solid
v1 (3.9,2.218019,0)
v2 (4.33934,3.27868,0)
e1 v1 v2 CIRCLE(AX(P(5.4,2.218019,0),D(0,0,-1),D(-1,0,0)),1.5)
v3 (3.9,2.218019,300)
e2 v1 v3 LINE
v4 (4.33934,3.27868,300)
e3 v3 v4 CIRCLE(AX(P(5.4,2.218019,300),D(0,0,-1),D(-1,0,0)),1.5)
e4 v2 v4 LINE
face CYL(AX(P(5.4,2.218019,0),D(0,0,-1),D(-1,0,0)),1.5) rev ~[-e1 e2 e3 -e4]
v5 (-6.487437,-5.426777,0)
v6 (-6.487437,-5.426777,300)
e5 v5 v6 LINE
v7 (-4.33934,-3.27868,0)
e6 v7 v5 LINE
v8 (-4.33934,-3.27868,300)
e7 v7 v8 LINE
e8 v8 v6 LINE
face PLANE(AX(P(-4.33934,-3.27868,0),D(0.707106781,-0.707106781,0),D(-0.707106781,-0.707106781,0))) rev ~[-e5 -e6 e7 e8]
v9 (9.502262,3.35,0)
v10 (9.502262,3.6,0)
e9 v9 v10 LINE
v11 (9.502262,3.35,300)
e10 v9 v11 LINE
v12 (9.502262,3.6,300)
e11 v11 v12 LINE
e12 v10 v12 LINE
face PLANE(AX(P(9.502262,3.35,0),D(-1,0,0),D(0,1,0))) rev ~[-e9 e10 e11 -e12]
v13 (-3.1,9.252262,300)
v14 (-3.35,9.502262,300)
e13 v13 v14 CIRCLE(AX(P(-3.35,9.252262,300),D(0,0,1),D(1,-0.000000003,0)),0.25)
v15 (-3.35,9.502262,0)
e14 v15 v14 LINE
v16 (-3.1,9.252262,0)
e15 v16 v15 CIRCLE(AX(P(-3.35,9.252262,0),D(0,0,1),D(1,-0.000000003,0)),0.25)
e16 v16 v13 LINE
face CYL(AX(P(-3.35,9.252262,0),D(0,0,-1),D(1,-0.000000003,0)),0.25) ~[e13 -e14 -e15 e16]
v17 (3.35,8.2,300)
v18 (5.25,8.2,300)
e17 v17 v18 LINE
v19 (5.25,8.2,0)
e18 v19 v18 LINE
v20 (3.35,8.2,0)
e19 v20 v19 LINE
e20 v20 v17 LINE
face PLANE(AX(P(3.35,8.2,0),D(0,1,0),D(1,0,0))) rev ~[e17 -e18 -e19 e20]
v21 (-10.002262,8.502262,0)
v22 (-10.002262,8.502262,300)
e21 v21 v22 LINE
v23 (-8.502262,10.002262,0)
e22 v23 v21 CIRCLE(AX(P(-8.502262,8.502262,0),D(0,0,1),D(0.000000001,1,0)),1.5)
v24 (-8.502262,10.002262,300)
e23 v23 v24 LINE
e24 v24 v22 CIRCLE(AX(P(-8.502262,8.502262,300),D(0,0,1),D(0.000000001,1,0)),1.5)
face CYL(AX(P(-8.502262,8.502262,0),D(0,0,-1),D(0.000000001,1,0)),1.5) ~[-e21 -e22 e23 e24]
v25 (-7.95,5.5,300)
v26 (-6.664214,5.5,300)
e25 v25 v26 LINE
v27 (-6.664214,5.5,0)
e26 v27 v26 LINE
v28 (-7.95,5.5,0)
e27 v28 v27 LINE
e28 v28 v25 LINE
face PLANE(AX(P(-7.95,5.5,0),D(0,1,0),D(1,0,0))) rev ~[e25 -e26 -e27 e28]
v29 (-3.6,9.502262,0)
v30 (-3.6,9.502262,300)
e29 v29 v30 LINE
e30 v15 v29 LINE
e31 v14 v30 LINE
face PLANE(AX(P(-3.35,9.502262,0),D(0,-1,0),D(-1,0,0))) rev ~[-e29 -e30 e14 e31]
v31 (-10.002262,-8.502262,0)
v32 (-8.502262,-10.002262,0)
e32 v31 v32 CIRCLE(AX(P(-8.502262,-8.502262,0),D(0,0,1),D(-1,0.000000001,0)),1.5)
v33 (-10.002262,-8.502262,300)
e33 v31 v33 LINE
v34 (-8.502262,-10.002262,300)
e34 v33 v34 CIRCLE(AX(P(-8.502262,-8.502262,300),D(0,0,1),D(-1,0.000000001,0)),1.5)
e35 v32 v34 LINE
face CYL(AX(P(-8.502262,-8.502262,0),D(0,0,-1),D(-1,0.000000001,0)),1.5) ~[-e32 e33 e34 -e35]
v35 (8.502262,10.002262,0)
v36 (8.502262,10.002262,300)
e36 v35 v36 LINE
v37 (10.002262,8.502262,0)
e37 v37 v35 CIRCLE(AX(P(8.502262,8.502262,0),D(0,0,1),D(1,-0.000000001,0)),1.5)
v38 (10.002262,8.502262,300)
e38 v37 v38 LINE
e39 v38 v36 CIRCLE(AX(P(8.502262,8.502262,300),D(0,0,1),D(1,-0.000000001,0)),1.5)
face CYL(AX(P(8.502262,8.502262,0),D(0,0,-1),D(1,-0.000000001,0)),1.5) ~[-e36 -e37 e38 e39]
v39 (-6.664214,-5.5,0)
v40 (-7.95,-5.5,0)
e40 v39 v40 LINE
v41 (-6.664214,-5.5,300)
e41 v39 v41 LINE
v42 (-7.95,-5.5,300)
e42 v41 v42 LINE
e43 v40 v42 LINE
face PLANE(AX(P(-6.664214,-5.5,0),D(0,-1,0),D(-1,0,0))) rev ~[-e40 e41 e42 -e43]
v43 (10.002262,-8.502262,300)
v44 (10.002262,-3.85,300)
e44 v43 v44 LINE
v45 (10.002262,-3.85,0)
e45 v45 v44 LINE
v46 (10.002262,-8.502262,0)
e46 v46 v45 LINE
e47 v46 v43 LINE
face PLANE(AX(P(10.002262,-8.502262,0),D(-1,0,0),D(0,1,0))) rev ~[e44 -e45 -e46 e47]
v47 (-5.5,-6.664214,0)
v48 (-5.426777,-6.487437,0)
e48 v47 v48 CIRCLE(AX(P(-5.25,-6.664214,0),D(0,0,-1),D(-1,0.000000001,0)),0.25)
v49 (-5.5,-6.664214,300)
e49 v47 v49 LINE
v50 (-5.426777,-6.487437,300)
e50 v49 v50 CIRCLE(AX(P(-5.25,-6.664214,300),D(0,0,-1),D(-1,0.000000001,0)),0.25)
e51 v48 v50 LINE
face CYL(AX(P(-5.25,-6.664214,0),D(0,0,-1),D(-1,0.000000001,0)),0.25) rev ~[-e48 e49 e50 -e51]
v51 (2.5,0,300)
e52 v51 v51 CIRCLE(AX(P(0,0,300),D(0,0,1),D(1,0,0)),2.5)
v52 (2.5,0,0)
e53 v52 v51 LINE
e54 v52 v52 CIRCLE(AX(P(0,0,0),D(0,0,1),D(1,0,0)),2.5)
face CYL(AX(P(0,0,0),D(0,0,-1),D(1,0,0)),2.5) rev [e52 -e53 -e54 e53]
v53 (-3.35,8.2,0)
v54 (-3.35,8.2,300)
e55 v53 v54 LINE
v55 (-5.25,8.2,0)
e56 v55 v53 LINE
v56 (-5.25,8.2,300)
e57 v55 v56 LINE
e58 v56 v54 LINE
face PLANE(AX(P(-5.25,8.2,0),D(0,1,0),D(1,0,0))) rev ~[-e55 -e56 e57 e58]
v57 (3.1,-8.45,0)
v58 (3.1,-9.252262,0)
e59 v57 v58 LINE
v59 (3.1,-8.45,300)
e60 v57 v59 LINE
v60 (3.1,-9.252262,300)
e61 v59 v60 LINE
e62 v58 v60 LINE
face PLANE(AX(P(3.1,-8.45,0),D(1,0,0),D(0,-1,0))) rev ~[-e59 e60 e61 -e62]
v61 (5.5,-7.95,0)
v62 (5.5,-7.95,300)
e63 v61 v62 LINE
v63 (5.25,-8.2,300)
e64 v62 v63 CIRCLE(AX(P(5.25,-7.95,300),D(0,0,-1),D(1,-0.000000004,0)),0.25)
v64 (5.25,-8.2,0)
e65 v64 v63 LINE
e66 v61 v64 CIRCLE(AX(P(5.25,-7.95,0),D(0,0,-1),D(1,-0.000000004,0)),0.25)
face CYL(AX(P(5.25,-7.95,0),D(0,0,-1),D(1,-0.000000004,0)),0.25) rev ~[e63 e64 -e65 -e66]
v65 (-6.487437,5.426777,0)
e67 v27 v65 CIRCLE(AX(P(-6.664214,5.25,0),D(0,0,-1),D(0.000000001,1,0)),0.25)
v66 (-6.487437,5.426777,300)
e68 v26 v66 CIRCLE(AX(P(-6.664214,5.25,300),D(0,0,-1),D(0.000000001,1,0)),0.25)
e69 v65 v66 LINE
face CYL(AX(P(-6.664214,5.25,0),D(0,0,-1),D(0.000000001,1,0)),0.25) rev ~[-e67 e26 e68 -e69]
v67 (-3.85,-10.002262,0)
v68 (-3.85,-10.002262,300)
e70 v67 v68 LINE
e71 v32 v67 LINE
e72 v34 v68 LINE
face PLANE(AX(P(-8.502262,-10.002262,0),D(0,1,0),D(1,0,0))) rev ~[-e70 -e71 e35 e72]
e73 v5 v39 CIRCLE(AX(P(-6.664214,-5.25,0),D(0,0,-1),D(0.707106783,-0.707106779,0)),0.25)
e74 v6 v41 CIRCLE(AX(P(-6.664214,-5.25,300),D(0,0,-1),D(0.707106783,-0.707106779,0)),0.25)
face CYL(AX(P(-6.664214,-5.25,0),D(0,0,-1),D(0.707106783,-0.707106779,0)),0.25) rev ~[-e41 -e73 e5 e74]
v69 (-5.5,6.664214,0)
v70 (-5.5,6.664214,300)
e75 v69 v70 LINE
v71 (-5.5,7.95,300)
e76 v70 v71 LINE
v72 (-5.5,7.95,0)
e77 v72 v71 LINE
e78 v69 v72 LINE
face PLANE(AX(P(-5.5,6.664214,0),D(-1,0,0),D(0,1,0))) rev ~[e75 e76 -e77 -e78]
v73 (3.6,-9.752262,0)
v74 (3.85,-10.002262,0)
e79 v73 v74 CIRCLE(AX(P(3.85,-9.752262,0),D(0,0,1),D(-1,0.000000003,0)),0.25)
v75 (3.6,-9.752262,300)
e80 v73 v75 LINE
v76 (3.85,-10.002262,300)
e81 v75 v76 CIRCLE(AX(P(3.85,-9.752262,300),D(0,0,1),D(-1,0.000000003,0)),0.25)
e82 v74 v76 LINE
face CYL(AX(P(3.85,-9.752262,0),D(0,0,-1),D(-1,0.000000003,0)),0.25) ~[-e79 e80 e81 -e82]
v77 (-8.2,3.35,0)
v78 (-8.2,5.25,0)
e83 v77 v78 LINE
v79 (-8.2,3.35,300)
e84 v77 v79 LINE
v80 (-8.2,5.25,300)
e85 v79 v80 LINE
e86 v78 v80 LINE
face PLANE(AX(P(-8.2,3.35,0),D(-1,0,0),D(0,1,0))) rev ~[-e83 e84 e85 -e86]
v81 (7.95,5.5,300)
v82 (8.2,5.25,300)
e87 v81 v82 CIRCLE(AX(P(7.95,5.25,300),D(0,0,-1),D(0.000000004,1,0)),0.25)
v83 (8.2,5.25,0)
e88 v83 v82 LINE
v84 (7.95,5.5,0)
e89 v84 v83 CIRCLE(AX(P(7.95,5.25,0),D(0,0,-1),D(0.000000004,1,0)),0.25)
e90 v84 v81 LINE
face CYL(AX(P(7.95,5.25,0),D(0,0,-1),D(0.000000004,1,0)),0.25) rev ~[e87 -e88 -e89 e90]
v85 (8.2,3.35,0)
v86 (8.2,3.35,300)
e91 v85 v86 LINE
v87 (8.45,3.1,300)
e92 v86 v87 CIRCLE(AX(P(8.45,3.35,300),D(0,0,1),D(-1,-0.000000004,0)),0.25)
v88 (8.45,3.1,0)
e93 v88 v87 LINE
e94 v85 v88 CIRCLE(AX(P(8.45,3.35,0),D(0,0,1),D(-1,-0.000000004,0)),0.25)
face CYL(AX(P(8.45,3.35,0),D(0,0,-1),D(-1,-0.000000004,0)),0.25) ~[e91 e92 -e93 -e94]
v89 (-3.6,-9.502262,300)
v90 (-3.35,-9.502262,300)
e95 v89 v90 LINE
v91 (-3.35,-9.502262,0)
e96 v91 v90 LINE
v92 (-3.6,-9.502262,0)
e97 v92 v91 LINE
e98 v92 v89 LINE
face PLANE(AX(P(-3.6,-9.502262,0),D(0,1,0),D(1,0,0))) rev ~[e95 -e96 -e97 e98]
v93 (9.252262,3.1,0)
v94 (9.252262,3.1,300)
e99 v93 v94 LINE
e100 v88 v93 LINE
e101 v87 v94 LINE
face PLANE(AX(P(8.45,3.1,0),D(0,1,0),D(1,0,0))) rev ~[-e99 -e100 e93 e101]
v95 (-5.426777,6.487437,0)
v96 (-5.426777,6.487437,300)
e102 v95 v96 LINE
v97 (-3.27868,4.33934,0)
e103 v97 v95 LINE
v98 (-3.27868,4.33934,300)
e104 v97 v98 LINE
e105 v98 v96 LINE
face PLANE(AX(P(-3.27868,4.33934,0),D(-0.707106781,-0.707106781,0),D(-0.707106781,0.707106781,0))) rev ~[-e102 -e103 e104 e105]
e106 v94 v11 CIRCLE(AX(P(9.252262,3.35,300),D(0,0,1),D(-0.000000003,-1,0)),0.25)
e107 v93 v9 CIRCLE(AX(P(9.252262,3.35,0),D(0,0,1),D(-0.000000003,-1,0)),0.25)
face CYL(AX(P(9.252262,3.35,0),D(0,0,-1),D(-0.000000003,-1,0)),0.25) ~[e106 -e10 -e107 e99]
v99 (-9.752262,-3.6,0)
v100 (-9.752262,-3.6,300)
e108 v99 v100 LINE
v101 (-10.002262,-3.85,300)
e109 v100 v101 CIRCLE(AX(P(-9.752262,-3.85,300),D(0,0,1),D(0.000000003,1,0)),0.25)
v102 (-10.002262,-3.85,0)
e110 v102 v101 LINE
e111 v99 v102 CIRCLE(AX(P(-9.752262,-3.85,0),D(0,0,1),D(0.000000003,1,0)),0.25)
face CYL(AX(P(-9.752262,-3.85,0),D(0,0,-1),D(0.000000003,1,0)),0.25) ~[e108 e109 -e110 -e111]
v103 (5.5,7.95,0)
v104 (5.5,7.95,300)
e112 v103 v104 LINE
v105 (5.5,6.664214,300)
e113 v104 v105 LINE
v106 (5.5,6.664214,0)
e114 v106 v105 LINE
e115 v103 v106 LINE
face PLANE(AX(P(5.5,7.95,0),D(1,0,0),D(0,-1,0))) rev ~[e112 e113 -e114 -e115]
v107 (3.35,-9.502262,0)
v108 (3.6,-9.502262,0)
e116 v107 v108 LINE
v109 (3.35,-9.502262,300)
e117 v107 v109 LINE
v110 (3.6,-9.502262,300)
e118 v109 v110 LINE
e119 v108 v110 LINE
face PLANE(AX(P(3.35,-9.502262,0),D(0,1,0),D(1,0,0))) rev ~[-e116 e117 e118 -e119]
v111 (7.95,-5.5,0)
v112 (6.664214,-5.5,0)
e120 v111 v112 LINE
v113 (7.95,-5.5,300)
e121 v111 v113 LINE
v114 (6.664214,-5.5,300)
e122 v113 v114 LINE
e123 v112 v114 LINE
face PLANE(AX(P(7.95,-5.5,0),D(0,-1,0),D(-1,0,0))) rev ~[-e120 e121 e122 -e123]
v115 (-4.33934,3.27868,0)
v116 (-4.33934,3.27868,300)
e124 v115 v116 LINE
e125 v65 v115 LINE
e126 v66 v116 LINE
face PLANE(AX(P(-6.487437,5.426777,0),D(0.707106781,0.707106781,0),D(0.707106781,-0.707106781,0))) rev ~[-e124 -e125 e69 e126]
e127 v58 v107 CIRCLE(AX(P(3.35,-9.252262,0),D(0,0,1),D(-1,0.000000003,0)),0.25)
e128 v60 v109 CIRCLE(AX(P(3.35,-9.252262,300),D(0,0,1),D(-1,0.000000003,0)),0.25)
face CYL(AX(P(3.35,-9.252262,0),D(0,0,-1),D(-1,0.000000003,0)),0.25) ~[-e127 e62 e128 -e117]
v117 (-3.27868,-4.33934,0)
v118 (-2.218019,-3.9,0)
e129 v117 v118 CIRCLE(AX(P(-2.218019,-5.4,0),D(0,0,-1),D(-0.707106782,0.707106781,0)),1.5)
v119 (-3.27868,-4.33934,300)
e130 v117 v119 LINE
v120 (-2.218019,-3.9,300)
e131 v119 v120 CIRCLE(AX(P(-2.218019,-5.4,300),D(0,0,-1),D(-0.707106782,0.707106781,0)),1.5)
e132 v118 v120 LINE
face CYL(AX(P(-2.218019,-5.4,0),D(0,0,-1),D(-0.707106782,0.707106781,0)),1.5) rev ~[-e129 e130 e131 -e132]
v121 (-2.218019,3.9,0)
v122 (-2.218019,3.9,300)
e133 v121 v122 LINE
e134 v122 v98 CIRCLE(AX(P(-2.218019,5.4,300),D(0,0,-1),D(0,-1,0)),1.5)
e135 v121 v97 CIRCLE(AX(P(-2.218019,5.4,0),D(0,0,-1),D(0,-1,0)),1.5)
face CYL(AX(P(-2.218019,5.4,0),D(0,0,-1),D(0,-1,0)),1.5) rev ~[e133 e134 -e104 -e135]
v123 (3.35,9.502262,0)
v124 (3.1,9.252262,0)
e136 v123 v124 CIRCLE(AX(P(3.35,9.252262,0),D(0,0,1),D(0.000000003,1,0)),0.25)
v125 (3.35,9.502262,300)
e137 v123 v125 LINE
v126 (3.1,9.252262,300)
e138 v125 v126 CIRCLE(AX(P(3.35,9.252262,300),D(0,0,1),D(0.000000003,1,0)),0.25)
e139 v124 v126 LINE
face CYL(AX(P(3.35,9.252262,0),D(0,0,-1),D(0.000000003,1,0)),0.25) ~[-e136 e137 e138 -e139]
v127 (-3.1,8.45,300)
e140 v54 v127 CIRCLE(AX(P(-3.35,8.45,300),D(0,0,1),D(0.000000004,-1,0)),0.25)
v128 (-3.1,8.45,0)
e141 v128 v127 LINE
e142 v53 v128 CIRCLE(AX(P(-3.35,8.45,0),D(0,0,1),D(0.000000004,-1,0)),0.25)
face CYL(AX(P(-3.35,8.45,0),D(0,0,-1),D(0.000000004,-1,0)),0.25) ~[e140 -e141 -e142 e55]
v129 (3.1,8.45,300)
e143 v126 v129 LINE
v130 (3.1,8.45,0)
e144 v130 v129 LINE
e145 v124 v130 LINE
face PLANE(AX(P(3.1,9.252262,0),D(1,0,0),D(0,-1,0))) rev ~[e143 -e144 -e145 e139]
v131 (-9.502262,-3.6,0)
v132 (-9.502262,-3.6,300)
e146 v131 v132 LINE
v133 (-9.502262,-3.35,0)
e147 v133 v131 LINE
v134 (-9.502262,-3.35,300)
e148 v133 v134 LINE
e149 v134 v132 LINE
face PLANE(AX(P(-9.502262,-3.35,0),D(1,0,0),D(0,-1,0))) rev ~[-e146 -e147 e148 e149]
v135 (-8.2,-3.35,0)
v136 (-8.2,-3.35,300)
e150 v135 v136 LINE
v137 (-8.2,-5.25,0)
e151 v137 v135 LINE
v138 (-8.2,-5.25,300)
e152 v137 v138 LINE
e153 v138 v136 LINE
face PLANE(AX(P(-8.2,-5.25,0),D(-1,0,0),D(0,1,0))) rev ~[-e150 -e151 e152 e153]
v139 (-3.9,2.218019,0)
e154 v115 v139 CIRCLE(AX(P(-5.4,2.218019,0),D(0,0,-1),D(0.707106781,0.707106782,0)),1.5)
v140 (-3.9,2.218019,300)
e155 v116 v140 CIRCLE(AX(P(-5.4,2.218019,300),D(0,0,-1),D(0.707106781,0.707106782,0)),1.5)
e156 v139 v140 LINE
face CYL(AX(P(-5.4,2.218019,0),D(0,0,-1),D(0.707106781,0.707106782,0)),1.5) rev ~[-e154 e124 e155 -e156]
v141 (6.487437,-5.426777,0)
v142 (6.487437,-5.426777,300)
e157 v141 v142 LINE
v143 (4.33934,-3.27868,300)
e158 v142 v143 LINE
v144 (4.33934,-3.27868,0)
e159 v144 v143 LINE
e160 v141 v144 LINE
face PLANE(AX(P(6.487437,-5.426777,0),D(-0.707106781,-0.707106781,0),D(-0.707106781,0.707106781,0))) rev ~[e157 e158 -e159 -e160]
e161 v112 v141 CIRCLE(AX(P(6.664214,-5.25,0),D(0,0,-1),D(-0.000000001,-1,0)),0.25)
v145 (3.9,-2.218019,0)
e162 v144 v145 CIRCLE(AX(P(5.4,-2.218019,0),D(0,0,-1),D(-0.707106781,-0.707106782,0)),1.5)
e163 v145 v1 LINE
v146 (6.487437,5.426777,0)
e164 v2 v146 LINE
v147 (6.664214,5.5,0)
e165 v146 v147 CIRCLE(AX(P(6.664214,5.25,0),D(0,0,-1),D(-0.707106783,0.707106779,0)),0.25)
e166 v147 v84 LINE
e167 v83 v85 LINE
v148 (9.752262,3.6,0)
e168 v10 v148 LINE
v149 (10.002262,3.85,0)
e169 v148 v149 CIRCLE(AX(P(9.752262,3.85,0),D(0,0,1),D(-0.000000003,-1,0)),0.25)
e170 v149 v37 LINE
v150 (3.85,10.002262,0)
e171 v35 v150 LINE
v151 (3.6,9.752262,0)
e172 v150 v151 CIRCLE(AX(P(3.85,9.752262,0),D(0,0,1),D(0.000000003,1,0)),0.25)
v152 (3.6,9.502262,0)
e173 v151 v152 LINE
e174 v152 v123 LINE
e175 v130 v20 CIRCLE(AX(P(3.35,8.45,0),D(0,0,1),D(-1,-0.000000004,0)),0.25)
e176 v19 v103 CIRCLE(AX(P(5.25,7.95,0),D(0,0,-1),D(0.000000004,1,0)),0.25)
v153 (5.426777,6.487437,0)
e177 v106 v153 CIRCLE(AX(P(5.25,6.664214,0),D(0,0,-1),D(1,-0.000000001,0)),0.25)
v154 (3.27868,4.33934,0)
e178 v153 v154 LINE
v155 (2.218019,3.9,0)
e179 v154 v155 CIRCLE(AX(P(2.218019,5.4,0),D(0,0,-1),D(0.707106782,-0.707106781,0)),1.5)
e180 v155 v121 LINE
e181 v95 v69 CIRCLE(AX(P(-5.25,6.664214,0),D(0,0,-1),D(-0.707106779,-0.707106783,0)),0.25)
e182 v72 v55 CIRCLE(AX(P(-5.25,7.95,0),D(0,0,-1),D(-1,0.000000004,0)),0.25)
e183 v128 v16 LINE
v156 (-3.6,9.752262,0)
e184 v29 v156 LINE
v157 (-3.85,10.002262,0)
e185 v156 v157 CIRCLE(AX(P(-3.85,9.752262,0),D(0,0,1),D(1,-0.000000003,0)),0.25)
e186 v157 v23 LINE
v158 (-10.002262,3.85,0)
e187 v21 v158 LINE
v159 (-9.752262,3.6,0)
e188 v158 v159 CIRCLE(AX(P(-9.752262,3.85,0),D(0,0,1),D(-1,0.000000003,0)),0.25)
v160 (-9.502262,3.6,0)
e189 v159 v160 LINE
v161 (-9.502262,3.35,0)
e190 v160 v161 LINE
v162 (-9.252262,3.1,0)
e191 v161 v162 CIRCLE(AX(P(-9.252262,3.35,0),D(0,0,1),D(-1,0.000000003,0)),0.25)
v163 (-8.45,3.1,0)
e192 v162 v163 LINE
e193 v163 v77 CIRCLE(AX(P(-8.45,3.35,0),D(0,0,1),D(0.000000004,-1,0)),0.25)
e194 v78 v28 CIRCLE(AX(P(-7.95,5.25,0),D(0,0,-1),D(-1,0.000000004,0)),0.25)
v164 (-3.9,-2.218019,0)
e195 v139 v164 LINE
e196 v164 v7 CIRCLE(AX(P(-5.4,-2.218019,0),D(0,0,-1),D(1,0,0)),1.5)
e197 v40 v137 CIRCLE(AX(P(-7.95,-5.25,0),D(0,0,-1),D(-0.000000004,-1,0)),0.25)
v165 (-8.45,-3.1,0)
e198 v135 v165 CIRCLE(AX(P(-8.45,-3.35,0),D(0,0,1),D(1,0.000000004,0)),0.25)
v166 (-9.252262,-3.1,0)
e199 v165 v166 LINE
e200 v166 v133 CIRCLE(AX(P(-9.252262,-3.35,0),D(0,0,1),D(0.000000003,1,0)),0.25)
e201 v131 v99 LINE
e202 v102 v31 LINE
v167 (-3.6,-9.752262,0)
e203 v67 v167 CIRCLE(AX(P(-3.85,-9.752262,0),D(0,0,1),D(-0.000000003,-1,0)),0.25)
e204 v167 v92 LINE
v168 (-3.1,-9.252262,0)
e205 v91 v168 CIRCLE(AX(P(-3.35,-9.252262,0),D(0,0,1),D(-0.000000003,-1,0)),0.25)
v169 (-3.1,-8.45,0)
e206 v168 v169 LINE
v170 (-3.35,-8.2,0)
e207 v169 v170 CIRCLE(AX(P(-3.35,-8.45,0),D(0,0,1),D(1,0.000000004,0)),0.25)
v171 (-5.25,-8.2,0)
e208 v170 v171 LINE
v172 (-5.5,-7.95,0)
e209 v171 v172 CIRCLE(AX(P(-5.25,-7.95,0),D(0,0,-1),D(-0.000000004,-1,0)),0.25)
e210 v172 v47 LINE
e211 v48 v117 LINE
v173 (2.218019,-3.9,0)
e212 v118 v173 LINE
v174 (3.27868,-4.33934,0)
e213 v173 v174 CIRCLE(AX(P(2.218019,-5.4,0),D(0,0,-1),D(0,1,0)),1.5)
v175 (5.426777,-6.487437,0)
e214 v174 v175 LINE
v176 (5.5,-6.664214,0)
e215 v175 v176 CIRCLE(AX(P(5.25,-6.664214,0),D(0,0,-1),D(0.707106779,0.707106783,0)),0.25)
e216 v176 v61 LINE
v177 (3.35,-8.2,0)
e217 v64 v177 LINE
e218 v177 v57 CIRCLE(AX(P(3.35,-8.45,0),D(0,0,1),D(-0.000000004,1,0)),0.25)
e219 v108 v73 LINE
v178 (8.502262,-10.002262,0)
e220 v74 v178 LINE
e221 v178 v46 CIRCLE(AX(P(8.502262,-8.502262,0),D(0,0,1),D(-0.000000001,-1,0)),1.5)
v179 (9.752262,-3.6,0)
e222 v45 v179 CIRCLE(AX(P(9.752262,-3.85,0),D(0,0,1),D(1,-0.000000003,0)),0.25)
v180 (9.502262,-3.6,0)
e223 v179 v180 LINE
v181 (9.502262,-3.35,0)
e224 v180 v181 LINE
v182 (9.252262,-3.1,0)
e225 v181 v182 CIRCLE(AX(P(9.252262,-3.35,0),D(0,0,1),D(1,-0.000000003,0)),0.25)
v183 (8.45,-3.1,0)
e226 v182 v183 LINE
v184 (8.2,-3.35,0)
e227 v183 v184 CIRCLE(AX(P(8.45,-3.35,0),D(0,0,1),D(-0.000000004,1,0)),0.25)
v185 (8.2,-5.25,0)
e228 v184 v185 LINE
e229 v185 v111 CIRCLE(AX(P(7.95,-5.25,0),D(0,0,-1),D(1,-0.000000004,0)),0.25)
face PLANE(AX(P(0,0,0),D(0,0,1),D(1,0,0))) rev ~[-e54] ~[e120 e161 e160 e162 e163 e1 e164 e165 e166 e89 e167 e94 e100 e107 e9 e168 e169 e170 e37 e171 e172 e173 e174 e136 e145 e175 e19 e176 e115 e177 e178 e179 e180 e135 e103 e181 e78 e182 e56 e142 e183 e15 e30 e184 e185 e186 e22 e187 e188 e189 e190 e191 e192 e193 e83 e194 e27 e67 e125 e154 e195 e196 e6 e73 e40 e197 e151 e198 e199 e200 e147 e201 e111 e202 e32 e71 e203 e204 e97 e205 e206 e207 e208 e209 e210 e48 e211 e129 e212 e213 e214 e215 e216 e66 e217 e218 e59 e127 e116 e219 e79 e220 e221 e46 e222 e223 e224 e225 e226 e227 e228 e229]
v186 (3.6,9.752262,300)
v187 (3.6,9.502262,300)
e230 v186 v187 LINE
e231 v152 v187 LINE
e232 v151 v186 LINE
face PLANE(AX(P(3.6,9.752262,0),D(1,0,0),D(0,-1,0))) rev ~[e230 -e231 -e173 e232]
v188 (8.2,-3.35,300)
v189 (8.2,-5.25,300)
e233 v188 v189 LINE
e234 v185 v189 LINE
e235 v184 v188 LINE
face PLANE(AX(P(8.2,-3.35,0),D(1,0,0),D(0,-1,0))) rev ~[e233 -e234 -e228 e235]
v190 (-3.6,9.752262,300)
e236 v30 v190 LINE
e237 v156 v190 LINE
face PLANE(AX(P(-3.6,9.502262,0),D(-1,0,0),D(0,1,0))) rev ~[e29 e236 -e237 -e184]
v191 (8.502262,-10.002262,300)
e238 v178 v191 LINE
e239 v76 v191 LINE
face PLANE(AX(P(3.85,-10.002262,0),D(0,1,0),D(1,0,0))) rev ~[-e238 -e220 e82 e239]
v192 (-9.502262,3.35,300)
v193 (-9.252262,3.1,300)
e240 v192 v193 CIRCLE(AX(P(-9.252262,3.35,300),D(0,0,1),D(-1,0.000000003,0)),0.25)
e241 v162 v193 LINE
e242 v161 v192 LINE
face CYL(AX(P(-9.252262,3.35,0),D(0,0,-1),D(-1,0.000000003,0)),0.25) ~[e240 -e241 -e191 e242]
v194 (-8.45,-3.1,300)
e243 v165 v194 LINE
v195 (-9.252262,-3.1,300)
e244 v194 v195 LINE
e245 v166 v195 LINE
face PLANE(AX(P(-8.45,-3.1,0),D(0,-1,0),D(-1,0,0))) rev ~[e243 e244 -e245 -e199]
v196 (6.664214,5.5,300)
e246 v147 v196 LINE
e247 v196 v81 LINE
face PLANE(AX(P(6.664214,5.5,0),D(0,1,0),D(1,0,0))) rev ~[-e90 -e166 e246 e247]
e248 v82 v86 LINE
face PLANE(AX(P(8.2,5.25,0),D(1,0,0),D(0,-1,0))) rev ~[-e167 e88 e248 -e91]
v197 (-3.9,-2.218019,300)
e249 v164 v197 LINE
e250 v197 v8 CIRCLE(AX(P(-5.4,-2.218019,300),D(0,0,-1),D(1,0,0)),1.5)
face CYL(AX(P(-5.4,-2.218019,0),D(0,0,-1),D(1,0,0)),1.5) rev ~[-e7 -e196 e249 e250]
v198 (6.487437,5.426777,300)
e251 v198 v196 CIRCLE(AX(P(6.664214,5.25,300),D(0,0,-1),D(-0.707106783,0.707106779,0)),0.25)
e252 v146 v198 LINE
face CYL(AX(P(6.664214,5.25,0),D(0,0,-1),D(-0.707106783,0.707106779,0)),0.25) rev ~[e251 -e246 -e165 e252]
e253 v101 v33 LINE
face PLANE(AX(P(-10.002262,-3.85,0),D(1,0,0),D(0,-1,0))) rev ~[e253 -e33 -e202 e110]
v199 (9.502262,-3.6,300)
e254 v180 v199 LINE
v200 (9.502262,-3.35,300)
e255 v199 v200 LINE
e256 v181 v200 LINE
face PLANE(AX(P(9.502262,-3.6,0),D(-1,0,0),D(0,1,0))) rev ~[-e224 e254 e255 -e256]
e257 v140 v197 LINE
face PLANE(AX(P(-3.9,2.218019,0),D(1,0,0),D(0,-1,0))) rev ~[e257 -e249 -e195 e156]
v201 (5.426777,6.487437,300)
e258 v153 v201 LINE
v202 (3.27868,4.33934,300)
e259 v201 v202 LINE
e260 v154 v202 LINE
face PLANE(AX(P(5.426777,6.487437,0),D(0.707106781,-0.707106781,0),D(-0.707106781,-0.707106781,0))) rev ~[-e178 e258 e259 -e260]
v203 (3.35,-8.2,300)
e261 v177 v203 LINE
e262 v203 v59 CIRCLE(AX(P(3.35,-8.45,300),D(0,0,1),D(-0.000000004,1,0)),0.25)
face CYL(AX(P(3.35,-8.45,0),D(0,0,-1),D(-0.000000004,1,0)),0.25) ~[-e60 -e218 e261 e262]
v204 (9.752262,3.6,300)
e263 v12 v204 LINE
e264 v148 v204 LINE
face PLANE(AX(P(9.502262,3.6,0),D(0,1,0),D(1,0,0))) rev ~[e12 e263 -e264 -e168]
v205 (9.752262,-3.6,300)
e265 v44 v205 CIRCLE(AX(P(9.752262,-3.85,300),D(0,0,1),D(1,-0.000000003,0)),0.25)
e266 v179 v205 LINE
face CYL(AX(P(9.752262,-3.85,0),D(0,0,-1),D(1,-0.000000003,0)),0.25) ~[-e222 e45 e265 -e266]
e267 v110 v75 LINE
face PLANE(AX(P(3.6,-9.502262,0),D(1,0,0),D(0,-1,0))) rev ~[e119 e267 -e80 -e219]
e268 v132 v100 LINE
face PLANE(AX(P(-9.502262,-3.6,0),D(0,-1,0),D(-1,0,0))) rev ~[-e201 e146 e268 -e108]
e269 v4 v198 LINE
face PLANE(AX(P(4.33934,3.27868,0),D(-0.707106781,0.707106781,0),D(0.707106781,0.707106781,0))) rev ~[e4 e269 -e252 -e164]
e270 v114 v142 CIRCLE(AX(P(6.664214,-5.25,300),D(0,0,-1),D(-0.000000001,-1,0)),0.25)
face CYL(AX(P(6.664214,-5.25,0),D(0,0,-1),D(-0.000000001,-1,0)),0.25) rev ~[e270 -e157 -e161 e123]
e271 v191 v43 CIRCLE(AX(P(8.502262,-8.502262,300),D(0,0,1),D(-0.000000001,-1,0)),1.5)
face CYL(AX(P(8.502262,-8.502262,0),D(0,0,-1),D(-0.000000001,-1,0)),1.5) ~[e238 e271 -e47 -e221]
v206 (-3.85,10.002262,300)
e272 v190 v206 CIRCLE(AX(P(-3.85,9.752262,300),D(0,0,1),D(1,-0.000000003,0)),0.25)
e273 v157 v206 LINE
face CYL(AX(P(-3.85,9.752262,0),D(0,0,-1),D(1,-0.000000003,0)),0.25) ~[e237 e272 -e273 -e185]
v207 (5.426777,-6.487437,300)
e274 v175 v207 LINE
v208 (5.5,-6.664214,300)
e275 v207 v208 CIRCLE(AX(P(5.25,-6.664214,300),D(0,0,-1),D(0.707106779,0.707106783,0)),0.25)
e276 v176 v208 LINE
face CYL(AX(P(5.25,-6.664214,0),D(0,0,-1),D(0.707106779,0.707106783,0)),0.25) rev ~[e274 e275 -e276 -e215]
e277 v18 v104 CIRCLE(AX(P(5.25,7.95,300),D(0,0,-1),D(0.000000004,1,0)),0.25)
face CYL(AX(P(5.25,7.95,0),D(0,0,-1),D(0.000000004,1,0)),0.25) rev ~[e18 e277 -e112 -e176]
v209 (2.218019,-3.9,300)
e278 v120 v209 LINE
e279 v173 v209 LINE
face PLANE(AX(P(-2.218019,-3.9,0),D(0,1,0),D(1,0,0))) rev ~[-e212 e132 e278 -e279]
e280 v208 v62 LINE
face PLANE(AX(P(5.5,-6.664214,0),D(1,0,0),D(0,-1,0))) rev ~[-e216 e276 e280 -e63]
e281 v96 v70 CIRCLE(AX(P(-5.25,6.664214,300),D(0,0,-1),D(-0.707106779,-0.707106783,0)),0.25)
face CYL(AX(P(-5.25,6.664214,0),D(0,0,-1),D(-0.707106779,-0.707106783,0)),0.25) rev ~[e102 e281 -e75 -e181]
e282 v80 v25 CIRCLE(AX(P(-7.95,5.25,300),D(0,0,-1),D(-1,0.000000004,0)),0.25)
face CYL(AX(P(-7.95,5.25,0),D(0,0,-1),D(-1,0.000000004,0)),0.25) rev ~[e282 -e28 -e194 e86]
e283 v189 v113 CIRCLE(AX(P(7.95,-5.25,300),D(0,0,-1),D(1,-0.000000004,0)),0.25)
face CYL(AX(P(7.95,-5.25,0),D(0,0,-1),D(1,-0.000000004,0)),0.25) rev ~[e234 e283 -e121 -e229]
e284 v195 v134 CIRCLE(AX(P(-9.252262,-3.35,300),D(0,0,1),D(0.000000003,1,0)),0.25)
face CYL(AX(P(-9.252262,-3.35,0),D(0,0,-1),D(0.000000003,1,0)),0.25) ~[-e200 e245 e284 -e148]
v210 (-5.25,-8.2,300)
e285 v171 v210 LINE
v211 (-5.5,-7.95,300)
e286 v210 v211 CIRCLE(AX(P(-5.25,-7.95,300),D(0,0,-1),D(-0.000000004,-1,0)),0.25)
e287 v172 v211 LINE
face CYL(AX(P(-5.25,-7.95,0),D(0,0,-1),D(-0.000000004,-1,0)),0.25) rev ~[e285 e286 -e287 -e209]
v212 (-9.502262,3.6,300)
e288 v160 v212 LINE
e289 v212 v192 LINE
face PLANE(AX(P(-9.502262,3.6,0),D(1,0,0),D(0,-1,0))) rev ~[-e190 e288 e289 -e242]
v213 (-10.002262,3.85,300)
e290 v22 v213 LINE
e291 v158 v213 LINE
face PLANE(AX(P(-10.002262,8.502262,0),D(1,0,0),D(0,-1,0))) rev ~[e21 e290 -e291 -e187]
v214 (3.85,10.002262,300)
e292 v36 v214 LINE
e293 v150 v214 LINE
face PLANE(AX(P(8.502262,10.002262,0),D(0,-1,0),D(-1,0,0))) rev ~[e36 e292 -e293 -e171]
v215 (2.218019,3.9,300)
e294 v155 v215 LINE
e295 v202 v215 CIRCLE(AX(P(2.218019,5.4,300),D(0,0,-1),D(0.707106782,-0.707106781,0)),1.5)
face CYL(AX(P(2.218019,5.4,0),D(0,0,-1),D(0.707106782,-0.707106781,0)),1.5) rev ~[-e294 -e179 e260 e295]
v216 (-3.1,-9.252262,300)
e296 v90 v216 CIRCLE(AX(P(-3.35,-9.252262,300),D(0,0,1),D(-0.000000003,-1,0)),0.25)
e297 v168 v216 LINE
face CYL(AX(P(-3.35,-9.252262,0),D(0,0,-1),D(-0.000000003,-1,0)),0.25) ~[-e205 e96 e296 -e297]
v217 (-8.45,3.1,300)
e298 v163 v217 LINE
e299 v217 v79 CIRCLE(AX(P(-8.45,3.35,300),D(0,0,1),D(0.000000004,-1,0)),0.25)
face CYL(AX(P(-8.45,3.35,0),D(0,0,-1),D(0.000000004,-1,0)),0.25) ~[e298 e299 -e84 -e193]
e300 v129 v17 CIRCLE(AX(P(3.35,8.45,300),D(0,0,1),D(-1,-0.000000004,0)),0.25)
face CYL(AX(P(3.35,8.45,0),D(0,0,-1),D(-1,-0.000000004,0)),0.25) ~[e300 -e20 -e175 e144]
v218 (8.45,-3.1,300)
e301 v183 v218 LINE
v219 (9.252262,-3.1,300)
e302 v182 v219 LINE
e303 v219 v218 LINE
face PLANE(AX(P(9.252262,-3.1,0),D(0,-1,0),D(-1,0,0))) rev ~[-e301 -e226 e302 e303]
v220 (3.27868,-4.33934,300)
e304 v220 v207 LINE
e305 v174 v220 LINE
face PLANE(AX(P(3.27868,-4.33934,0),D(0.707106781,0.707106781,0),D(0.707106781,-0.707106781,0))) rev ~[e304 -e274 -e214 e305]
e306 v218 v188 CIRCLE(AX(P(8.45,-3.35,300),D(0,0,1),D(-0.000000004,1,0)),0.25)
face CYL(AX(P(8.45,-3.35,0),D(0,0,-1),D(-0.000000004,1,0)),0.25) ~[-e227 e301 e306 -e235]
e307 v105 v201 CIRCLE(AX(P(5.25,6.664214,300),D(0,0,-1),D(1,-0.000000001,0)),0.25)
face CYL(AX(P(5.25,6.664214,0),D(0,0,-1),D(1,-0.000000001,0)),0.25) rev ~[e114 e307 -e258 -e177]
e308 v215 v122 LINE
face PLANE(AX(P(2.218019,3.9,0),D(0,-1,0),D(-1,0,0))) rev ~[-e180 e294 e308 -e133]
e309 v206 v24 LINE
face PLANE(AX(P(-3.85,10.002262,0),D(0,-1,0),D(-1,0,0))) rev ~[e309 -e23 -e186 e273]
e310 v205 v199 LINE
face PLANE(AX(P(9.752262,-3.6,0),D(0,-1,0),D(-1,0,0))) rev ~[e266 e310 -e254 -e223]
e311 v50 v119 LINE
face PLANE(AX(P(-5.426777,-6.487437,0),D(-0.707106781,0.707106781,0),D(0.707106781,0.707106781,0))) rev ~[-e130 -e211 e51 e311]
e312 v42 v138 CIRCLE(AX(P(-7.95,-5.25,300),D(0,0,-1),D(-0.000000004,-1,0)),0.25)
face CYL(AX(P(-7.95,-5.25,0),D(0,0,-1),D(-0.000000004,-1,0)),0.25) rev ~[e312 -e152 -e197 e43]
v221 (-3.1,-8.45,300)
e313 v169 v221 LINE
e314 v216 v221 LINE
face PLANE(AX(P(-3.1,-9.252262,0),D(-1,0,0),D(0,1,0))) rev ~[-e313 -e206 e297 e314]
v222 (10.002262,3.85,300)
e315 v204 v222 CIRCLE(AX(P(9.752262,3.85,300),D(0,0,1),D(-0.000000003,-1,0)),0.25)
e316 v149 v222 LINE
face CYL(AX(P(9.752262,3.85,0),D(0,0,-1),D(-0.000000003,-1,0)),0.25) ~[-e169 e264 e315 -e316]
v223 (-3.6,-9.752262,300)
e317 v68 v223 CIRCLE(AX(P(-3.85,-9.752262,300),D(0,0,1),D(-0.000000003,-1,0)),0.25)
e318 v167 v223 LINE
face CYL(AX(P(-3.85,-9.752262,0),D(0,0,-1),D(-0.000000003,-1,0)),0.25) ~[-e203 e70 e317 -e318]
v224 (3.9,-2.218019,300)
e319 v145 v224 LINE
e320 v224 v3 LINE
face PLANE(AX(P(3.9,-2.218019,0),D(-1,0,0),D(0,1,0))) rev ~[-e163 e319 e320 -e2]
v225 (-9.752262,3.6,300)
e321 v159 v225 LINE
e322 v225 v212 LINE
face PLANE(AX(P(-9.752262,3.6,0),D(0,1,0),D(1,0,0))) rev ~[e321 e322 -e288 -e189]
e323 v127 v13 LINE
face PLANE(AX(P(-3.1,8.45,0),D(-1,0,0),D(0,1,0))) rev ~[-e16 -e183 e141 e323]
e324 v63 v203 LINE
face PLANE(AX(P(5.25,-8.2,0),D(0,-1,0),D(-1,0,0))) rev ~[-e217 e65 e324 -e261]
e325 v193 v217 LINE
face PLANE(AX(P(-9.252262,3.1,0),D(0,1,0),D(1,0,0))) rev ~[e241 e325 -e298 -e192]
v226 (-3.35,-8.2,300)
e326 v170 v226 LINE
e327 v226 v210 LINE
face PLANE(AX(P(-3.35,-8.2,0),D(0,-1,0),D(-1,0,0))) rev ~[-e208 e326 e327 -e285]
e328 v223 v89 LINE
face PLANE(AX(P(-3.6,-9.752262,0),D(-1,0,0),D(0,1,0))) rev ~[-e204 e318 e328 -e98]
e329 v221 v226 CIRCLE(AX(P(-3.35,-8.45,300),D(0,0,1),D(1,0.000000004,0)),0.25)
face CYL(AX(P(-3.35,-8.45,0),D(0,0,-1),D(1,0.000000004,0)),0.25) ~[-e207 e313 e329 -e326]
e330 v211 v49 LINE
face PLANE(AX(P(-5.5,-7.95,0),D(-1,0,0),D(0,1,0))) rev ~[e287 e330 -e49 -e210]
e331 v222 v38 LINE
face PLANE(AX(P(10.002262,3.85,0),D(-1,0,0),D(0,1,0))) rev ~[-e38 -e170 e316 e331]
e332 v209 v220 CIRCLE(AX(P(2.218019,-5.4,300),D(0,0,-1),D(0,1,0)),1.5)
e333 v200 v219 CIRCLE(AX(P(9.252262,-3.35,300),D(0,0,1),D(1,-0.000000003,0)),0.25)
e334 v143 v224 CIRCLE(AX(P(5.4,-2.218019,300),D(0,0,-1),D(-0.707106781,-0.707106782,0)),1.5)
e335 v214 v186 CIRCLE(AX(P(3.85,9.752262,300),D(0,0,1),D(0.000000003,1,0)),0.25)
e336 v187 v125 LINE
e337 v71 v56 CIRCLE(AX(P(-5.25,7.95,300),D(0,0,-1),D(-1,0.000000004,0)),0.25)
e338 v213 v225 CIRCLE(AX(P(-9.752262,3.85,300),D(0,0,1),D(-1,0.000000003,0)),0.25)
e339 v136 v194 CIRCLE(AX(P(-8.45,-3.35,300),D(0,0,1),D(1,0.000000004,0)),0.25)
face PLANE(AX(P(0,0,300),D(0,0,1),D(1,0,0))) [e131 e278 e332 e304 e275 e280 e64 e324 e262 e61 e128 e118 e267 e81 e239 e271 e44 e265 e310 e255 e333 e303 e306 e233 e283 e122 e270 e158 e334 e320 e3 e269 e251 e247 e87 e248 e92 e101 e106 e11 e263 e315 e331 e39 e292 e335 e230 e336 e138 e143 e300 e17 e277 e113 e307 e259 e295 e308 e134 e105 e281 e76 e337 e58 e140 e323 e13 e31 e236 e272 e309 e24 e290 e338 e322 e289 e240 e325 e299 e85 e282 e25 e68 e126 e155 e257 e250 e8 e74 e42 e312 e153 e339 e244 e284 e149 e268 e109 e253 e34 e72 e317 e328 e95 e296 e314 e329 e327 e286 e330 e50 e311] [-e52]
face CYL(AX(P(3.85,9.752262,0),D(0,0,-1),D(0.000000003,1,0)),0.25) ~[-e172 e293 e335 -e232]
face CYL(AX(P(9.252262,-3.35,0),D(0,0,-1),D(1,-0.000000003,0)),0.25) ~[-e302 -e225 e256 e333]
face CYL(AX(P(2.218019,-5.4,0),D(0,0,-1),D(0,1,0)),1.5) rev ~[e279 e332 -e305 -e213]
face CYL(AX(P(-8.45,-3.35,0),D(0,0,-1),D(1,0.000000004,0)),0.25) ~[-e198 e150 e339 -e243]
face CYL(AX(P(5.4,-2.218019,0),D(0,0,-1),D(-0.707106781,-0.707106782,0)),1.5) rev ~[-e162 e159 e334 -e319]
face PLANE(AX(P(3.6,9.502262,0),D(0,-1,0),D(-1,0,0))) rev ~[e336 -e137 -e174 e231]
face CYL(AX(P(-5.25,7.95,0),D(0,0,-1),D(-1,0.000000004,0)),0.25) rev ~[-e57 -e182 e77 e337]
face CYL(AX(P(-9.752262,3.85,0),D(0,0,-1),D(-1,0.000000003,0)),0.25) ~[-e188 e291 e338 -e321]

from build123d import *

# Parameters (mm, degrees)
SKETCH_1_R      = 2.5
EXTRUDE_1_DEPTH = 300


with BuildPart() as part:
    # 草图1 → 凸台-拉伸1 (new body)
    with BuildSketch(Plane.XY):
        with BuildLine():
            Line((-8.502261885, -10.002261885), (-3.85, -10.002261885))
            ThreePointArc((-3.85, -10.002261885), (-3.673223305, -9.929038581), (-3.6, -9.752261885))
            Line((-3.6, -9.752261885), (-3.6, -9.502261885))
            Line((-3.6, -9.502261885), (-3.35, -9.502261885))
            ThreePointArc((-3.35, -9.502261885), (-3.173223305, -9.429038581), (-3.1, -9.252261885))
            Line((-3.1, -9.252261885), (-3.1, -8.45))
            ThreePointArc((-3.1, -8.45), (-3.173223305, -8.273223305), (-3.35, -8.2))
            Line((-3.35, -8.2), (-5.25, -8.2))
            ThreePointArc((-5.25, -8.2), (-5.426776695, -8.126776695), (-5.5, -7.95))
            Line((-5.5, -7.95), (-5.5, -6.664213562))
            ThreePointArc((-5.5, -6.664213562), (-5.480969883, -6.568542704), (-5.426776695, -6.487436867))
            Line((-5.426776695, -6.487436867), (-3.278679656, -4.339339828))
            ThreePointArc((-3.278679656, -4.339339828), (-2.792044633, -4.014180701), (-2.218019485, -3.9))
            Line((-2.218019485, -3.9), (2.218019485, -3.9))
            ThreePointArc((2.218019485, -3.9), (2.792044633, -4.014180701), (3.278679656, -4.339339828))
            Line((3.278679656, -4.339339828), (5.426776695, -6.487436867))
            ThreePointArc((5.426776695, -6.487436867), (5.480969883, -6.568542704), (5.5, -6.664213562))
            Line((5.5, -6.664213562), (5.5, -7.95))
            ThreePointArc((5.5, -7.95), (5.426776695, -8.126776695), (5.25, -8.2))
            Line((5.25, -8.2), (3.35, -8.2))
            ThreePointArc((3.35, -8.2), (3.173223305, -8.273223305), (3.1, -8.45))
            Line((3.1, -8.45), (3.1, -9.252261885))
            ThreePointArc((3.1, -9.252261885), (3.173223305, -9.429038581), (3.35, -9.502261885))
            Line((3.35, -9.502261885), (3.6, -9.502261885))
            Line((3.6, -9.502261885), (3.6, -9.752261885))
            ThreePointArc((3.6, -9.752261885), (3.673223305, -9.929038581), (3.85, -10.002261885))
            Line((3.85, -10.002261885), (8.502261885, -10.002261885))
            ThreePointArc((8.502261885, -10.002261885), (9.562922057, -9.562922057), (10.002261885, -8.502261885))
            Line((10.002261885, -8.502261885), (10.002261885, -3.85))
            ThreePointArc((10.002261885, -3.85), (9.929038581, -3.673223305), (9.752261885, -3.6))
            Line((9.752261885, -3.6), (9.502261885, -3.6))
            Line((9.502261885, -3.6), (9.502261885, -3.35))
            ThreePointArc((9.502261885, -3.35), (9.429038581, -3.173223305), (9.252261885, -3.1))
            Line((9.252261885, -3.1), (8.45, -3.1))
            ThreePointArc((8.45, -3.1), (8.273223305, -3.173223305), (8.2, -3.35))
            Line((8.2, -3.35), (8.2, -5.25))
            ThreePointArc((8.2, -5.25), (8.126776695, -5.426776695), (7.95, -5.5))
            Line((7.95, -5.5), (6.664213562, -5.5))
            ThreePointArc((6.664213562, -5.5), (6.568542704, -5.480969883), (6.487436867, -5.426776695))
            Line((6.487436867, -5.426776695), (4.339339828, -3.278679656))
            ThreePointArc((4.339339828, -3.278679656), (4.014180701, -2.792044633), (3.9, -2.218019485))
            Line((3.9, -2.218019485), (3.9, 2.218019485))
            ThreePointArc((3.9, 2.218019485), (4.014180701, 2.792044633), (4.339339828, 3.278679656))
            Line((4.339339828, 3.278679656), (6.487436867, 5.426776695))
            ThreePointArc((6.487436867, 5.426776695), (6.568542704, 5.480969883), (6.664213562, 5.5))
            Line((6.664213562, 5.5), (7.95, 5.5))
            ThreePointArc((7.95, 5.5), (8.126776695, 5.426776695), (8.2, 5.25))
            Line((8.2, 5.25), (8.2, 3.35))
            ThreePointArc((8.2, 3.35), (8.273223305, 3.173223305), (8.45, 3.1))
            Line((8.45, 3.1), (9.252261885, 3.1))
            ThreePointArc((9.252261885, 3.1), (9.429038581, 3.173223305), (9.502261885, 3.35))
            Line((9.502261885, 3.35), (9.502261885, 3.6))
            Line((9.502261885, 3.6), (9.752261885, 3.6))
            ThreePointArc((9.752261885, 3.6), (9.929038581, 3.673223305), (10.002261885, 3.85))
            Line((10.002261885, 3.85), (10.002261885, 8.502261885))
            ThreePointArc((10.002261885, 8.502261885), (9.562922057, 9.562922057), (8.502261885, 10.002261885))
            Line((8.502261885, 10.002261885), (3.85, 10.002261885))
            ThreePointArc((3.85, 10.002261885), (3.673223305, 9.929038581), (3.6, 9.752261885))
            Line((3.6, 9.752261885), (3.6, 9.502261885))
            Line((3.6, 9.502261885), (3.35, 9.502261885))
            ThreePointArc((3.35, 9.502261885), (3.173223305, 9.429038581), (3.1, 9.252261885))
            Line((3.1, 9.252261885), (3.1, 8.45))
            ThreePointArc((3.1, 8.45), (3.173223305, 8.273223305), (3.35, 8.2))
            Line((3.35, 8.2), (5.25, 8.2))
            ThreePointArc((5.25, 8.2), (5.426776695, 8.126776695), (5.5, 7.95))
            Line((5.5, 7.95), (5.5, 6.664213562))
            ThreePointArc((5.5, 6.664213562), (5.480969883, 6.568542704), (5.426776695, 6.487436867))
            Line((5.426776695, 6.487436867), (3.278679656, 4.339339828))
            ThreePointArc((3.278679656, 4.339339828), (2.792044633, 4.014180701), (2.218019485, 3.9))
            Line((2.218019485, 3.9), (-2.218019485, 3.9))
            ThreePointArc((-2.218019485, 3.9), (-2.792044633, 4.014180701), (-3.278679656, 4.339339828))
            Line((-3.278679656, 4.339339828), (-5.426776695, 6.487436867))
            ThreePointArc((-5.426776695, 6.487436867), (-5.480969883, 6.568542704), (-5.5, 6.664213562))
            Line((-5.5, 6.664213562), (-5.5, 7.95))
            ThreePointArc((-5.5, 7.95), (-5.426776695, 8.126776695), (-5.25, 8.2))
            Line((-5.25, 8.2), (-3.35, 8.2))
            ThreePointArc((-3.35, 8.2), (-3.173223305, 8.273223305), (-3.1, 8.45))
            Line((-3.1, 8.45), (-3.1, 9.252261885))
            ThreePointArc((-3.1, 9.252261885), (-3.173223305, 9.429038581), (-3.35, 9.502261885))
            Line((-3.35, 9.502261885), (-3.6, 9.502261885))
            Line((-3.6, 9.502261885), (-3.6, 9.752261885))
            ThreePointArc((-3.6, 9.752261885), (-3.673223305, 9.929038581), (-3.85, 10.002261885))
            Line((-3.85, 10.002261885), (-8.502261885, 10.002261885))
            ThreePointArc((-8.502261885, 10.002261885), (-9.562922057, 9.562922057), (-10.002261885, 8.502261885))
            Line((-10.002261885, 8.502261885), (-10.002261885, 3.85))
            ThreePointArc((-10.002261885, 3.85), (-9.929038581, 3.673223305), (-9.752261885, 3.6))
            Line((-9.752261885, 3.6), (-9.502261885, 3.6))
            Line((-9.502261885, 3.6), (-9.502261885, 3.35))
            ThreePointArc((-9.502261885, 3.35), (-9.429038581, 3.173223305), (-9.252261885, 3.1))
            Line((-9.252261885, 3.1), (-8.45, 3.1))
            ThreePointArc((-8.45, 3.1), (-8.273223305, 3.173223305), (-8.2, 3.35))
            Line((-8.2, 3.35), (-8.2, 5.25))
            ThreePointArc((-8.2, 5.25), (-8.126776695, 5.426776695), (-7.95, 5.5))
            Line((-7.95, 5.5), (-6.664213562, 5.5))
            ThreePointArc((-6.664213562, 5.5), (-6.568542704, 5.480969883), (-6.487436867, 5.426776695))
            Line((-6.487436867, 5.426776695), (-4.339339828, 3.278679656))
            ThreePointArc((-4.339339828, 3.278679656), (-4.014180701, 2.792044633), (-3.9, 2.218019485))
            Line((-3.9, 2.218019485), (-3.9, -2.218019485))
            ThreePointArc((-3.9, -2.218019485), (-4.014180701, -2.792044633), (-4.339339828, -3.278679656))
            Line((-4.339339828, -3.278679656), (-6.487436867, -5.426776695))
            ThreePointArc((-6.487436867, -5.426776695), (-6.568542704, -5.480969883), (-6.664213562, -5.5))
            Line((-6.664213562, -5.5), (-7.95, -5.5))
            ThreePointArc((-7.95, -5.5), (-8.126776695, -5.426776695), (-8.2, -5.25))
            Line((-8.2, -5.25), (-8.2, -3.35))
            ThreePointArc((-8.2, -3.35), (-8.273223305, -3.173223305), (-8.45, -3.1))
            Line((-8.45, -3.1), (-9.252261885, -3.1))
            ThreePointArc((-9.252261885, -3.1), (-9.429038581, -3.173223305), (-9.502261885, -3.35))
            Line((-9.502261885, -3.35), (-9.502261885, -3.6))
            Line((-9.502261885, -3.6), (-9.752261885, -3.6))
            ThreePointArc((-9.752261885, -3.6), (-9.929038581, -3.673223305), (-10.002261885, -3.85))
            Line((-10.002261885, -3.85), (-10.002261885, -8.502261885))
            ThreePointArc((-10.002261885, -8.502261885), (-9.562922057, -9.562922057), (-8.502261885, -10.002261885))
        make_face()
        Circle(SKETCH_1_R, mode=Mode.SUBTRACT)
    extrude(amount=EXTRUDE_1_DEPTH)


solid = part.part
